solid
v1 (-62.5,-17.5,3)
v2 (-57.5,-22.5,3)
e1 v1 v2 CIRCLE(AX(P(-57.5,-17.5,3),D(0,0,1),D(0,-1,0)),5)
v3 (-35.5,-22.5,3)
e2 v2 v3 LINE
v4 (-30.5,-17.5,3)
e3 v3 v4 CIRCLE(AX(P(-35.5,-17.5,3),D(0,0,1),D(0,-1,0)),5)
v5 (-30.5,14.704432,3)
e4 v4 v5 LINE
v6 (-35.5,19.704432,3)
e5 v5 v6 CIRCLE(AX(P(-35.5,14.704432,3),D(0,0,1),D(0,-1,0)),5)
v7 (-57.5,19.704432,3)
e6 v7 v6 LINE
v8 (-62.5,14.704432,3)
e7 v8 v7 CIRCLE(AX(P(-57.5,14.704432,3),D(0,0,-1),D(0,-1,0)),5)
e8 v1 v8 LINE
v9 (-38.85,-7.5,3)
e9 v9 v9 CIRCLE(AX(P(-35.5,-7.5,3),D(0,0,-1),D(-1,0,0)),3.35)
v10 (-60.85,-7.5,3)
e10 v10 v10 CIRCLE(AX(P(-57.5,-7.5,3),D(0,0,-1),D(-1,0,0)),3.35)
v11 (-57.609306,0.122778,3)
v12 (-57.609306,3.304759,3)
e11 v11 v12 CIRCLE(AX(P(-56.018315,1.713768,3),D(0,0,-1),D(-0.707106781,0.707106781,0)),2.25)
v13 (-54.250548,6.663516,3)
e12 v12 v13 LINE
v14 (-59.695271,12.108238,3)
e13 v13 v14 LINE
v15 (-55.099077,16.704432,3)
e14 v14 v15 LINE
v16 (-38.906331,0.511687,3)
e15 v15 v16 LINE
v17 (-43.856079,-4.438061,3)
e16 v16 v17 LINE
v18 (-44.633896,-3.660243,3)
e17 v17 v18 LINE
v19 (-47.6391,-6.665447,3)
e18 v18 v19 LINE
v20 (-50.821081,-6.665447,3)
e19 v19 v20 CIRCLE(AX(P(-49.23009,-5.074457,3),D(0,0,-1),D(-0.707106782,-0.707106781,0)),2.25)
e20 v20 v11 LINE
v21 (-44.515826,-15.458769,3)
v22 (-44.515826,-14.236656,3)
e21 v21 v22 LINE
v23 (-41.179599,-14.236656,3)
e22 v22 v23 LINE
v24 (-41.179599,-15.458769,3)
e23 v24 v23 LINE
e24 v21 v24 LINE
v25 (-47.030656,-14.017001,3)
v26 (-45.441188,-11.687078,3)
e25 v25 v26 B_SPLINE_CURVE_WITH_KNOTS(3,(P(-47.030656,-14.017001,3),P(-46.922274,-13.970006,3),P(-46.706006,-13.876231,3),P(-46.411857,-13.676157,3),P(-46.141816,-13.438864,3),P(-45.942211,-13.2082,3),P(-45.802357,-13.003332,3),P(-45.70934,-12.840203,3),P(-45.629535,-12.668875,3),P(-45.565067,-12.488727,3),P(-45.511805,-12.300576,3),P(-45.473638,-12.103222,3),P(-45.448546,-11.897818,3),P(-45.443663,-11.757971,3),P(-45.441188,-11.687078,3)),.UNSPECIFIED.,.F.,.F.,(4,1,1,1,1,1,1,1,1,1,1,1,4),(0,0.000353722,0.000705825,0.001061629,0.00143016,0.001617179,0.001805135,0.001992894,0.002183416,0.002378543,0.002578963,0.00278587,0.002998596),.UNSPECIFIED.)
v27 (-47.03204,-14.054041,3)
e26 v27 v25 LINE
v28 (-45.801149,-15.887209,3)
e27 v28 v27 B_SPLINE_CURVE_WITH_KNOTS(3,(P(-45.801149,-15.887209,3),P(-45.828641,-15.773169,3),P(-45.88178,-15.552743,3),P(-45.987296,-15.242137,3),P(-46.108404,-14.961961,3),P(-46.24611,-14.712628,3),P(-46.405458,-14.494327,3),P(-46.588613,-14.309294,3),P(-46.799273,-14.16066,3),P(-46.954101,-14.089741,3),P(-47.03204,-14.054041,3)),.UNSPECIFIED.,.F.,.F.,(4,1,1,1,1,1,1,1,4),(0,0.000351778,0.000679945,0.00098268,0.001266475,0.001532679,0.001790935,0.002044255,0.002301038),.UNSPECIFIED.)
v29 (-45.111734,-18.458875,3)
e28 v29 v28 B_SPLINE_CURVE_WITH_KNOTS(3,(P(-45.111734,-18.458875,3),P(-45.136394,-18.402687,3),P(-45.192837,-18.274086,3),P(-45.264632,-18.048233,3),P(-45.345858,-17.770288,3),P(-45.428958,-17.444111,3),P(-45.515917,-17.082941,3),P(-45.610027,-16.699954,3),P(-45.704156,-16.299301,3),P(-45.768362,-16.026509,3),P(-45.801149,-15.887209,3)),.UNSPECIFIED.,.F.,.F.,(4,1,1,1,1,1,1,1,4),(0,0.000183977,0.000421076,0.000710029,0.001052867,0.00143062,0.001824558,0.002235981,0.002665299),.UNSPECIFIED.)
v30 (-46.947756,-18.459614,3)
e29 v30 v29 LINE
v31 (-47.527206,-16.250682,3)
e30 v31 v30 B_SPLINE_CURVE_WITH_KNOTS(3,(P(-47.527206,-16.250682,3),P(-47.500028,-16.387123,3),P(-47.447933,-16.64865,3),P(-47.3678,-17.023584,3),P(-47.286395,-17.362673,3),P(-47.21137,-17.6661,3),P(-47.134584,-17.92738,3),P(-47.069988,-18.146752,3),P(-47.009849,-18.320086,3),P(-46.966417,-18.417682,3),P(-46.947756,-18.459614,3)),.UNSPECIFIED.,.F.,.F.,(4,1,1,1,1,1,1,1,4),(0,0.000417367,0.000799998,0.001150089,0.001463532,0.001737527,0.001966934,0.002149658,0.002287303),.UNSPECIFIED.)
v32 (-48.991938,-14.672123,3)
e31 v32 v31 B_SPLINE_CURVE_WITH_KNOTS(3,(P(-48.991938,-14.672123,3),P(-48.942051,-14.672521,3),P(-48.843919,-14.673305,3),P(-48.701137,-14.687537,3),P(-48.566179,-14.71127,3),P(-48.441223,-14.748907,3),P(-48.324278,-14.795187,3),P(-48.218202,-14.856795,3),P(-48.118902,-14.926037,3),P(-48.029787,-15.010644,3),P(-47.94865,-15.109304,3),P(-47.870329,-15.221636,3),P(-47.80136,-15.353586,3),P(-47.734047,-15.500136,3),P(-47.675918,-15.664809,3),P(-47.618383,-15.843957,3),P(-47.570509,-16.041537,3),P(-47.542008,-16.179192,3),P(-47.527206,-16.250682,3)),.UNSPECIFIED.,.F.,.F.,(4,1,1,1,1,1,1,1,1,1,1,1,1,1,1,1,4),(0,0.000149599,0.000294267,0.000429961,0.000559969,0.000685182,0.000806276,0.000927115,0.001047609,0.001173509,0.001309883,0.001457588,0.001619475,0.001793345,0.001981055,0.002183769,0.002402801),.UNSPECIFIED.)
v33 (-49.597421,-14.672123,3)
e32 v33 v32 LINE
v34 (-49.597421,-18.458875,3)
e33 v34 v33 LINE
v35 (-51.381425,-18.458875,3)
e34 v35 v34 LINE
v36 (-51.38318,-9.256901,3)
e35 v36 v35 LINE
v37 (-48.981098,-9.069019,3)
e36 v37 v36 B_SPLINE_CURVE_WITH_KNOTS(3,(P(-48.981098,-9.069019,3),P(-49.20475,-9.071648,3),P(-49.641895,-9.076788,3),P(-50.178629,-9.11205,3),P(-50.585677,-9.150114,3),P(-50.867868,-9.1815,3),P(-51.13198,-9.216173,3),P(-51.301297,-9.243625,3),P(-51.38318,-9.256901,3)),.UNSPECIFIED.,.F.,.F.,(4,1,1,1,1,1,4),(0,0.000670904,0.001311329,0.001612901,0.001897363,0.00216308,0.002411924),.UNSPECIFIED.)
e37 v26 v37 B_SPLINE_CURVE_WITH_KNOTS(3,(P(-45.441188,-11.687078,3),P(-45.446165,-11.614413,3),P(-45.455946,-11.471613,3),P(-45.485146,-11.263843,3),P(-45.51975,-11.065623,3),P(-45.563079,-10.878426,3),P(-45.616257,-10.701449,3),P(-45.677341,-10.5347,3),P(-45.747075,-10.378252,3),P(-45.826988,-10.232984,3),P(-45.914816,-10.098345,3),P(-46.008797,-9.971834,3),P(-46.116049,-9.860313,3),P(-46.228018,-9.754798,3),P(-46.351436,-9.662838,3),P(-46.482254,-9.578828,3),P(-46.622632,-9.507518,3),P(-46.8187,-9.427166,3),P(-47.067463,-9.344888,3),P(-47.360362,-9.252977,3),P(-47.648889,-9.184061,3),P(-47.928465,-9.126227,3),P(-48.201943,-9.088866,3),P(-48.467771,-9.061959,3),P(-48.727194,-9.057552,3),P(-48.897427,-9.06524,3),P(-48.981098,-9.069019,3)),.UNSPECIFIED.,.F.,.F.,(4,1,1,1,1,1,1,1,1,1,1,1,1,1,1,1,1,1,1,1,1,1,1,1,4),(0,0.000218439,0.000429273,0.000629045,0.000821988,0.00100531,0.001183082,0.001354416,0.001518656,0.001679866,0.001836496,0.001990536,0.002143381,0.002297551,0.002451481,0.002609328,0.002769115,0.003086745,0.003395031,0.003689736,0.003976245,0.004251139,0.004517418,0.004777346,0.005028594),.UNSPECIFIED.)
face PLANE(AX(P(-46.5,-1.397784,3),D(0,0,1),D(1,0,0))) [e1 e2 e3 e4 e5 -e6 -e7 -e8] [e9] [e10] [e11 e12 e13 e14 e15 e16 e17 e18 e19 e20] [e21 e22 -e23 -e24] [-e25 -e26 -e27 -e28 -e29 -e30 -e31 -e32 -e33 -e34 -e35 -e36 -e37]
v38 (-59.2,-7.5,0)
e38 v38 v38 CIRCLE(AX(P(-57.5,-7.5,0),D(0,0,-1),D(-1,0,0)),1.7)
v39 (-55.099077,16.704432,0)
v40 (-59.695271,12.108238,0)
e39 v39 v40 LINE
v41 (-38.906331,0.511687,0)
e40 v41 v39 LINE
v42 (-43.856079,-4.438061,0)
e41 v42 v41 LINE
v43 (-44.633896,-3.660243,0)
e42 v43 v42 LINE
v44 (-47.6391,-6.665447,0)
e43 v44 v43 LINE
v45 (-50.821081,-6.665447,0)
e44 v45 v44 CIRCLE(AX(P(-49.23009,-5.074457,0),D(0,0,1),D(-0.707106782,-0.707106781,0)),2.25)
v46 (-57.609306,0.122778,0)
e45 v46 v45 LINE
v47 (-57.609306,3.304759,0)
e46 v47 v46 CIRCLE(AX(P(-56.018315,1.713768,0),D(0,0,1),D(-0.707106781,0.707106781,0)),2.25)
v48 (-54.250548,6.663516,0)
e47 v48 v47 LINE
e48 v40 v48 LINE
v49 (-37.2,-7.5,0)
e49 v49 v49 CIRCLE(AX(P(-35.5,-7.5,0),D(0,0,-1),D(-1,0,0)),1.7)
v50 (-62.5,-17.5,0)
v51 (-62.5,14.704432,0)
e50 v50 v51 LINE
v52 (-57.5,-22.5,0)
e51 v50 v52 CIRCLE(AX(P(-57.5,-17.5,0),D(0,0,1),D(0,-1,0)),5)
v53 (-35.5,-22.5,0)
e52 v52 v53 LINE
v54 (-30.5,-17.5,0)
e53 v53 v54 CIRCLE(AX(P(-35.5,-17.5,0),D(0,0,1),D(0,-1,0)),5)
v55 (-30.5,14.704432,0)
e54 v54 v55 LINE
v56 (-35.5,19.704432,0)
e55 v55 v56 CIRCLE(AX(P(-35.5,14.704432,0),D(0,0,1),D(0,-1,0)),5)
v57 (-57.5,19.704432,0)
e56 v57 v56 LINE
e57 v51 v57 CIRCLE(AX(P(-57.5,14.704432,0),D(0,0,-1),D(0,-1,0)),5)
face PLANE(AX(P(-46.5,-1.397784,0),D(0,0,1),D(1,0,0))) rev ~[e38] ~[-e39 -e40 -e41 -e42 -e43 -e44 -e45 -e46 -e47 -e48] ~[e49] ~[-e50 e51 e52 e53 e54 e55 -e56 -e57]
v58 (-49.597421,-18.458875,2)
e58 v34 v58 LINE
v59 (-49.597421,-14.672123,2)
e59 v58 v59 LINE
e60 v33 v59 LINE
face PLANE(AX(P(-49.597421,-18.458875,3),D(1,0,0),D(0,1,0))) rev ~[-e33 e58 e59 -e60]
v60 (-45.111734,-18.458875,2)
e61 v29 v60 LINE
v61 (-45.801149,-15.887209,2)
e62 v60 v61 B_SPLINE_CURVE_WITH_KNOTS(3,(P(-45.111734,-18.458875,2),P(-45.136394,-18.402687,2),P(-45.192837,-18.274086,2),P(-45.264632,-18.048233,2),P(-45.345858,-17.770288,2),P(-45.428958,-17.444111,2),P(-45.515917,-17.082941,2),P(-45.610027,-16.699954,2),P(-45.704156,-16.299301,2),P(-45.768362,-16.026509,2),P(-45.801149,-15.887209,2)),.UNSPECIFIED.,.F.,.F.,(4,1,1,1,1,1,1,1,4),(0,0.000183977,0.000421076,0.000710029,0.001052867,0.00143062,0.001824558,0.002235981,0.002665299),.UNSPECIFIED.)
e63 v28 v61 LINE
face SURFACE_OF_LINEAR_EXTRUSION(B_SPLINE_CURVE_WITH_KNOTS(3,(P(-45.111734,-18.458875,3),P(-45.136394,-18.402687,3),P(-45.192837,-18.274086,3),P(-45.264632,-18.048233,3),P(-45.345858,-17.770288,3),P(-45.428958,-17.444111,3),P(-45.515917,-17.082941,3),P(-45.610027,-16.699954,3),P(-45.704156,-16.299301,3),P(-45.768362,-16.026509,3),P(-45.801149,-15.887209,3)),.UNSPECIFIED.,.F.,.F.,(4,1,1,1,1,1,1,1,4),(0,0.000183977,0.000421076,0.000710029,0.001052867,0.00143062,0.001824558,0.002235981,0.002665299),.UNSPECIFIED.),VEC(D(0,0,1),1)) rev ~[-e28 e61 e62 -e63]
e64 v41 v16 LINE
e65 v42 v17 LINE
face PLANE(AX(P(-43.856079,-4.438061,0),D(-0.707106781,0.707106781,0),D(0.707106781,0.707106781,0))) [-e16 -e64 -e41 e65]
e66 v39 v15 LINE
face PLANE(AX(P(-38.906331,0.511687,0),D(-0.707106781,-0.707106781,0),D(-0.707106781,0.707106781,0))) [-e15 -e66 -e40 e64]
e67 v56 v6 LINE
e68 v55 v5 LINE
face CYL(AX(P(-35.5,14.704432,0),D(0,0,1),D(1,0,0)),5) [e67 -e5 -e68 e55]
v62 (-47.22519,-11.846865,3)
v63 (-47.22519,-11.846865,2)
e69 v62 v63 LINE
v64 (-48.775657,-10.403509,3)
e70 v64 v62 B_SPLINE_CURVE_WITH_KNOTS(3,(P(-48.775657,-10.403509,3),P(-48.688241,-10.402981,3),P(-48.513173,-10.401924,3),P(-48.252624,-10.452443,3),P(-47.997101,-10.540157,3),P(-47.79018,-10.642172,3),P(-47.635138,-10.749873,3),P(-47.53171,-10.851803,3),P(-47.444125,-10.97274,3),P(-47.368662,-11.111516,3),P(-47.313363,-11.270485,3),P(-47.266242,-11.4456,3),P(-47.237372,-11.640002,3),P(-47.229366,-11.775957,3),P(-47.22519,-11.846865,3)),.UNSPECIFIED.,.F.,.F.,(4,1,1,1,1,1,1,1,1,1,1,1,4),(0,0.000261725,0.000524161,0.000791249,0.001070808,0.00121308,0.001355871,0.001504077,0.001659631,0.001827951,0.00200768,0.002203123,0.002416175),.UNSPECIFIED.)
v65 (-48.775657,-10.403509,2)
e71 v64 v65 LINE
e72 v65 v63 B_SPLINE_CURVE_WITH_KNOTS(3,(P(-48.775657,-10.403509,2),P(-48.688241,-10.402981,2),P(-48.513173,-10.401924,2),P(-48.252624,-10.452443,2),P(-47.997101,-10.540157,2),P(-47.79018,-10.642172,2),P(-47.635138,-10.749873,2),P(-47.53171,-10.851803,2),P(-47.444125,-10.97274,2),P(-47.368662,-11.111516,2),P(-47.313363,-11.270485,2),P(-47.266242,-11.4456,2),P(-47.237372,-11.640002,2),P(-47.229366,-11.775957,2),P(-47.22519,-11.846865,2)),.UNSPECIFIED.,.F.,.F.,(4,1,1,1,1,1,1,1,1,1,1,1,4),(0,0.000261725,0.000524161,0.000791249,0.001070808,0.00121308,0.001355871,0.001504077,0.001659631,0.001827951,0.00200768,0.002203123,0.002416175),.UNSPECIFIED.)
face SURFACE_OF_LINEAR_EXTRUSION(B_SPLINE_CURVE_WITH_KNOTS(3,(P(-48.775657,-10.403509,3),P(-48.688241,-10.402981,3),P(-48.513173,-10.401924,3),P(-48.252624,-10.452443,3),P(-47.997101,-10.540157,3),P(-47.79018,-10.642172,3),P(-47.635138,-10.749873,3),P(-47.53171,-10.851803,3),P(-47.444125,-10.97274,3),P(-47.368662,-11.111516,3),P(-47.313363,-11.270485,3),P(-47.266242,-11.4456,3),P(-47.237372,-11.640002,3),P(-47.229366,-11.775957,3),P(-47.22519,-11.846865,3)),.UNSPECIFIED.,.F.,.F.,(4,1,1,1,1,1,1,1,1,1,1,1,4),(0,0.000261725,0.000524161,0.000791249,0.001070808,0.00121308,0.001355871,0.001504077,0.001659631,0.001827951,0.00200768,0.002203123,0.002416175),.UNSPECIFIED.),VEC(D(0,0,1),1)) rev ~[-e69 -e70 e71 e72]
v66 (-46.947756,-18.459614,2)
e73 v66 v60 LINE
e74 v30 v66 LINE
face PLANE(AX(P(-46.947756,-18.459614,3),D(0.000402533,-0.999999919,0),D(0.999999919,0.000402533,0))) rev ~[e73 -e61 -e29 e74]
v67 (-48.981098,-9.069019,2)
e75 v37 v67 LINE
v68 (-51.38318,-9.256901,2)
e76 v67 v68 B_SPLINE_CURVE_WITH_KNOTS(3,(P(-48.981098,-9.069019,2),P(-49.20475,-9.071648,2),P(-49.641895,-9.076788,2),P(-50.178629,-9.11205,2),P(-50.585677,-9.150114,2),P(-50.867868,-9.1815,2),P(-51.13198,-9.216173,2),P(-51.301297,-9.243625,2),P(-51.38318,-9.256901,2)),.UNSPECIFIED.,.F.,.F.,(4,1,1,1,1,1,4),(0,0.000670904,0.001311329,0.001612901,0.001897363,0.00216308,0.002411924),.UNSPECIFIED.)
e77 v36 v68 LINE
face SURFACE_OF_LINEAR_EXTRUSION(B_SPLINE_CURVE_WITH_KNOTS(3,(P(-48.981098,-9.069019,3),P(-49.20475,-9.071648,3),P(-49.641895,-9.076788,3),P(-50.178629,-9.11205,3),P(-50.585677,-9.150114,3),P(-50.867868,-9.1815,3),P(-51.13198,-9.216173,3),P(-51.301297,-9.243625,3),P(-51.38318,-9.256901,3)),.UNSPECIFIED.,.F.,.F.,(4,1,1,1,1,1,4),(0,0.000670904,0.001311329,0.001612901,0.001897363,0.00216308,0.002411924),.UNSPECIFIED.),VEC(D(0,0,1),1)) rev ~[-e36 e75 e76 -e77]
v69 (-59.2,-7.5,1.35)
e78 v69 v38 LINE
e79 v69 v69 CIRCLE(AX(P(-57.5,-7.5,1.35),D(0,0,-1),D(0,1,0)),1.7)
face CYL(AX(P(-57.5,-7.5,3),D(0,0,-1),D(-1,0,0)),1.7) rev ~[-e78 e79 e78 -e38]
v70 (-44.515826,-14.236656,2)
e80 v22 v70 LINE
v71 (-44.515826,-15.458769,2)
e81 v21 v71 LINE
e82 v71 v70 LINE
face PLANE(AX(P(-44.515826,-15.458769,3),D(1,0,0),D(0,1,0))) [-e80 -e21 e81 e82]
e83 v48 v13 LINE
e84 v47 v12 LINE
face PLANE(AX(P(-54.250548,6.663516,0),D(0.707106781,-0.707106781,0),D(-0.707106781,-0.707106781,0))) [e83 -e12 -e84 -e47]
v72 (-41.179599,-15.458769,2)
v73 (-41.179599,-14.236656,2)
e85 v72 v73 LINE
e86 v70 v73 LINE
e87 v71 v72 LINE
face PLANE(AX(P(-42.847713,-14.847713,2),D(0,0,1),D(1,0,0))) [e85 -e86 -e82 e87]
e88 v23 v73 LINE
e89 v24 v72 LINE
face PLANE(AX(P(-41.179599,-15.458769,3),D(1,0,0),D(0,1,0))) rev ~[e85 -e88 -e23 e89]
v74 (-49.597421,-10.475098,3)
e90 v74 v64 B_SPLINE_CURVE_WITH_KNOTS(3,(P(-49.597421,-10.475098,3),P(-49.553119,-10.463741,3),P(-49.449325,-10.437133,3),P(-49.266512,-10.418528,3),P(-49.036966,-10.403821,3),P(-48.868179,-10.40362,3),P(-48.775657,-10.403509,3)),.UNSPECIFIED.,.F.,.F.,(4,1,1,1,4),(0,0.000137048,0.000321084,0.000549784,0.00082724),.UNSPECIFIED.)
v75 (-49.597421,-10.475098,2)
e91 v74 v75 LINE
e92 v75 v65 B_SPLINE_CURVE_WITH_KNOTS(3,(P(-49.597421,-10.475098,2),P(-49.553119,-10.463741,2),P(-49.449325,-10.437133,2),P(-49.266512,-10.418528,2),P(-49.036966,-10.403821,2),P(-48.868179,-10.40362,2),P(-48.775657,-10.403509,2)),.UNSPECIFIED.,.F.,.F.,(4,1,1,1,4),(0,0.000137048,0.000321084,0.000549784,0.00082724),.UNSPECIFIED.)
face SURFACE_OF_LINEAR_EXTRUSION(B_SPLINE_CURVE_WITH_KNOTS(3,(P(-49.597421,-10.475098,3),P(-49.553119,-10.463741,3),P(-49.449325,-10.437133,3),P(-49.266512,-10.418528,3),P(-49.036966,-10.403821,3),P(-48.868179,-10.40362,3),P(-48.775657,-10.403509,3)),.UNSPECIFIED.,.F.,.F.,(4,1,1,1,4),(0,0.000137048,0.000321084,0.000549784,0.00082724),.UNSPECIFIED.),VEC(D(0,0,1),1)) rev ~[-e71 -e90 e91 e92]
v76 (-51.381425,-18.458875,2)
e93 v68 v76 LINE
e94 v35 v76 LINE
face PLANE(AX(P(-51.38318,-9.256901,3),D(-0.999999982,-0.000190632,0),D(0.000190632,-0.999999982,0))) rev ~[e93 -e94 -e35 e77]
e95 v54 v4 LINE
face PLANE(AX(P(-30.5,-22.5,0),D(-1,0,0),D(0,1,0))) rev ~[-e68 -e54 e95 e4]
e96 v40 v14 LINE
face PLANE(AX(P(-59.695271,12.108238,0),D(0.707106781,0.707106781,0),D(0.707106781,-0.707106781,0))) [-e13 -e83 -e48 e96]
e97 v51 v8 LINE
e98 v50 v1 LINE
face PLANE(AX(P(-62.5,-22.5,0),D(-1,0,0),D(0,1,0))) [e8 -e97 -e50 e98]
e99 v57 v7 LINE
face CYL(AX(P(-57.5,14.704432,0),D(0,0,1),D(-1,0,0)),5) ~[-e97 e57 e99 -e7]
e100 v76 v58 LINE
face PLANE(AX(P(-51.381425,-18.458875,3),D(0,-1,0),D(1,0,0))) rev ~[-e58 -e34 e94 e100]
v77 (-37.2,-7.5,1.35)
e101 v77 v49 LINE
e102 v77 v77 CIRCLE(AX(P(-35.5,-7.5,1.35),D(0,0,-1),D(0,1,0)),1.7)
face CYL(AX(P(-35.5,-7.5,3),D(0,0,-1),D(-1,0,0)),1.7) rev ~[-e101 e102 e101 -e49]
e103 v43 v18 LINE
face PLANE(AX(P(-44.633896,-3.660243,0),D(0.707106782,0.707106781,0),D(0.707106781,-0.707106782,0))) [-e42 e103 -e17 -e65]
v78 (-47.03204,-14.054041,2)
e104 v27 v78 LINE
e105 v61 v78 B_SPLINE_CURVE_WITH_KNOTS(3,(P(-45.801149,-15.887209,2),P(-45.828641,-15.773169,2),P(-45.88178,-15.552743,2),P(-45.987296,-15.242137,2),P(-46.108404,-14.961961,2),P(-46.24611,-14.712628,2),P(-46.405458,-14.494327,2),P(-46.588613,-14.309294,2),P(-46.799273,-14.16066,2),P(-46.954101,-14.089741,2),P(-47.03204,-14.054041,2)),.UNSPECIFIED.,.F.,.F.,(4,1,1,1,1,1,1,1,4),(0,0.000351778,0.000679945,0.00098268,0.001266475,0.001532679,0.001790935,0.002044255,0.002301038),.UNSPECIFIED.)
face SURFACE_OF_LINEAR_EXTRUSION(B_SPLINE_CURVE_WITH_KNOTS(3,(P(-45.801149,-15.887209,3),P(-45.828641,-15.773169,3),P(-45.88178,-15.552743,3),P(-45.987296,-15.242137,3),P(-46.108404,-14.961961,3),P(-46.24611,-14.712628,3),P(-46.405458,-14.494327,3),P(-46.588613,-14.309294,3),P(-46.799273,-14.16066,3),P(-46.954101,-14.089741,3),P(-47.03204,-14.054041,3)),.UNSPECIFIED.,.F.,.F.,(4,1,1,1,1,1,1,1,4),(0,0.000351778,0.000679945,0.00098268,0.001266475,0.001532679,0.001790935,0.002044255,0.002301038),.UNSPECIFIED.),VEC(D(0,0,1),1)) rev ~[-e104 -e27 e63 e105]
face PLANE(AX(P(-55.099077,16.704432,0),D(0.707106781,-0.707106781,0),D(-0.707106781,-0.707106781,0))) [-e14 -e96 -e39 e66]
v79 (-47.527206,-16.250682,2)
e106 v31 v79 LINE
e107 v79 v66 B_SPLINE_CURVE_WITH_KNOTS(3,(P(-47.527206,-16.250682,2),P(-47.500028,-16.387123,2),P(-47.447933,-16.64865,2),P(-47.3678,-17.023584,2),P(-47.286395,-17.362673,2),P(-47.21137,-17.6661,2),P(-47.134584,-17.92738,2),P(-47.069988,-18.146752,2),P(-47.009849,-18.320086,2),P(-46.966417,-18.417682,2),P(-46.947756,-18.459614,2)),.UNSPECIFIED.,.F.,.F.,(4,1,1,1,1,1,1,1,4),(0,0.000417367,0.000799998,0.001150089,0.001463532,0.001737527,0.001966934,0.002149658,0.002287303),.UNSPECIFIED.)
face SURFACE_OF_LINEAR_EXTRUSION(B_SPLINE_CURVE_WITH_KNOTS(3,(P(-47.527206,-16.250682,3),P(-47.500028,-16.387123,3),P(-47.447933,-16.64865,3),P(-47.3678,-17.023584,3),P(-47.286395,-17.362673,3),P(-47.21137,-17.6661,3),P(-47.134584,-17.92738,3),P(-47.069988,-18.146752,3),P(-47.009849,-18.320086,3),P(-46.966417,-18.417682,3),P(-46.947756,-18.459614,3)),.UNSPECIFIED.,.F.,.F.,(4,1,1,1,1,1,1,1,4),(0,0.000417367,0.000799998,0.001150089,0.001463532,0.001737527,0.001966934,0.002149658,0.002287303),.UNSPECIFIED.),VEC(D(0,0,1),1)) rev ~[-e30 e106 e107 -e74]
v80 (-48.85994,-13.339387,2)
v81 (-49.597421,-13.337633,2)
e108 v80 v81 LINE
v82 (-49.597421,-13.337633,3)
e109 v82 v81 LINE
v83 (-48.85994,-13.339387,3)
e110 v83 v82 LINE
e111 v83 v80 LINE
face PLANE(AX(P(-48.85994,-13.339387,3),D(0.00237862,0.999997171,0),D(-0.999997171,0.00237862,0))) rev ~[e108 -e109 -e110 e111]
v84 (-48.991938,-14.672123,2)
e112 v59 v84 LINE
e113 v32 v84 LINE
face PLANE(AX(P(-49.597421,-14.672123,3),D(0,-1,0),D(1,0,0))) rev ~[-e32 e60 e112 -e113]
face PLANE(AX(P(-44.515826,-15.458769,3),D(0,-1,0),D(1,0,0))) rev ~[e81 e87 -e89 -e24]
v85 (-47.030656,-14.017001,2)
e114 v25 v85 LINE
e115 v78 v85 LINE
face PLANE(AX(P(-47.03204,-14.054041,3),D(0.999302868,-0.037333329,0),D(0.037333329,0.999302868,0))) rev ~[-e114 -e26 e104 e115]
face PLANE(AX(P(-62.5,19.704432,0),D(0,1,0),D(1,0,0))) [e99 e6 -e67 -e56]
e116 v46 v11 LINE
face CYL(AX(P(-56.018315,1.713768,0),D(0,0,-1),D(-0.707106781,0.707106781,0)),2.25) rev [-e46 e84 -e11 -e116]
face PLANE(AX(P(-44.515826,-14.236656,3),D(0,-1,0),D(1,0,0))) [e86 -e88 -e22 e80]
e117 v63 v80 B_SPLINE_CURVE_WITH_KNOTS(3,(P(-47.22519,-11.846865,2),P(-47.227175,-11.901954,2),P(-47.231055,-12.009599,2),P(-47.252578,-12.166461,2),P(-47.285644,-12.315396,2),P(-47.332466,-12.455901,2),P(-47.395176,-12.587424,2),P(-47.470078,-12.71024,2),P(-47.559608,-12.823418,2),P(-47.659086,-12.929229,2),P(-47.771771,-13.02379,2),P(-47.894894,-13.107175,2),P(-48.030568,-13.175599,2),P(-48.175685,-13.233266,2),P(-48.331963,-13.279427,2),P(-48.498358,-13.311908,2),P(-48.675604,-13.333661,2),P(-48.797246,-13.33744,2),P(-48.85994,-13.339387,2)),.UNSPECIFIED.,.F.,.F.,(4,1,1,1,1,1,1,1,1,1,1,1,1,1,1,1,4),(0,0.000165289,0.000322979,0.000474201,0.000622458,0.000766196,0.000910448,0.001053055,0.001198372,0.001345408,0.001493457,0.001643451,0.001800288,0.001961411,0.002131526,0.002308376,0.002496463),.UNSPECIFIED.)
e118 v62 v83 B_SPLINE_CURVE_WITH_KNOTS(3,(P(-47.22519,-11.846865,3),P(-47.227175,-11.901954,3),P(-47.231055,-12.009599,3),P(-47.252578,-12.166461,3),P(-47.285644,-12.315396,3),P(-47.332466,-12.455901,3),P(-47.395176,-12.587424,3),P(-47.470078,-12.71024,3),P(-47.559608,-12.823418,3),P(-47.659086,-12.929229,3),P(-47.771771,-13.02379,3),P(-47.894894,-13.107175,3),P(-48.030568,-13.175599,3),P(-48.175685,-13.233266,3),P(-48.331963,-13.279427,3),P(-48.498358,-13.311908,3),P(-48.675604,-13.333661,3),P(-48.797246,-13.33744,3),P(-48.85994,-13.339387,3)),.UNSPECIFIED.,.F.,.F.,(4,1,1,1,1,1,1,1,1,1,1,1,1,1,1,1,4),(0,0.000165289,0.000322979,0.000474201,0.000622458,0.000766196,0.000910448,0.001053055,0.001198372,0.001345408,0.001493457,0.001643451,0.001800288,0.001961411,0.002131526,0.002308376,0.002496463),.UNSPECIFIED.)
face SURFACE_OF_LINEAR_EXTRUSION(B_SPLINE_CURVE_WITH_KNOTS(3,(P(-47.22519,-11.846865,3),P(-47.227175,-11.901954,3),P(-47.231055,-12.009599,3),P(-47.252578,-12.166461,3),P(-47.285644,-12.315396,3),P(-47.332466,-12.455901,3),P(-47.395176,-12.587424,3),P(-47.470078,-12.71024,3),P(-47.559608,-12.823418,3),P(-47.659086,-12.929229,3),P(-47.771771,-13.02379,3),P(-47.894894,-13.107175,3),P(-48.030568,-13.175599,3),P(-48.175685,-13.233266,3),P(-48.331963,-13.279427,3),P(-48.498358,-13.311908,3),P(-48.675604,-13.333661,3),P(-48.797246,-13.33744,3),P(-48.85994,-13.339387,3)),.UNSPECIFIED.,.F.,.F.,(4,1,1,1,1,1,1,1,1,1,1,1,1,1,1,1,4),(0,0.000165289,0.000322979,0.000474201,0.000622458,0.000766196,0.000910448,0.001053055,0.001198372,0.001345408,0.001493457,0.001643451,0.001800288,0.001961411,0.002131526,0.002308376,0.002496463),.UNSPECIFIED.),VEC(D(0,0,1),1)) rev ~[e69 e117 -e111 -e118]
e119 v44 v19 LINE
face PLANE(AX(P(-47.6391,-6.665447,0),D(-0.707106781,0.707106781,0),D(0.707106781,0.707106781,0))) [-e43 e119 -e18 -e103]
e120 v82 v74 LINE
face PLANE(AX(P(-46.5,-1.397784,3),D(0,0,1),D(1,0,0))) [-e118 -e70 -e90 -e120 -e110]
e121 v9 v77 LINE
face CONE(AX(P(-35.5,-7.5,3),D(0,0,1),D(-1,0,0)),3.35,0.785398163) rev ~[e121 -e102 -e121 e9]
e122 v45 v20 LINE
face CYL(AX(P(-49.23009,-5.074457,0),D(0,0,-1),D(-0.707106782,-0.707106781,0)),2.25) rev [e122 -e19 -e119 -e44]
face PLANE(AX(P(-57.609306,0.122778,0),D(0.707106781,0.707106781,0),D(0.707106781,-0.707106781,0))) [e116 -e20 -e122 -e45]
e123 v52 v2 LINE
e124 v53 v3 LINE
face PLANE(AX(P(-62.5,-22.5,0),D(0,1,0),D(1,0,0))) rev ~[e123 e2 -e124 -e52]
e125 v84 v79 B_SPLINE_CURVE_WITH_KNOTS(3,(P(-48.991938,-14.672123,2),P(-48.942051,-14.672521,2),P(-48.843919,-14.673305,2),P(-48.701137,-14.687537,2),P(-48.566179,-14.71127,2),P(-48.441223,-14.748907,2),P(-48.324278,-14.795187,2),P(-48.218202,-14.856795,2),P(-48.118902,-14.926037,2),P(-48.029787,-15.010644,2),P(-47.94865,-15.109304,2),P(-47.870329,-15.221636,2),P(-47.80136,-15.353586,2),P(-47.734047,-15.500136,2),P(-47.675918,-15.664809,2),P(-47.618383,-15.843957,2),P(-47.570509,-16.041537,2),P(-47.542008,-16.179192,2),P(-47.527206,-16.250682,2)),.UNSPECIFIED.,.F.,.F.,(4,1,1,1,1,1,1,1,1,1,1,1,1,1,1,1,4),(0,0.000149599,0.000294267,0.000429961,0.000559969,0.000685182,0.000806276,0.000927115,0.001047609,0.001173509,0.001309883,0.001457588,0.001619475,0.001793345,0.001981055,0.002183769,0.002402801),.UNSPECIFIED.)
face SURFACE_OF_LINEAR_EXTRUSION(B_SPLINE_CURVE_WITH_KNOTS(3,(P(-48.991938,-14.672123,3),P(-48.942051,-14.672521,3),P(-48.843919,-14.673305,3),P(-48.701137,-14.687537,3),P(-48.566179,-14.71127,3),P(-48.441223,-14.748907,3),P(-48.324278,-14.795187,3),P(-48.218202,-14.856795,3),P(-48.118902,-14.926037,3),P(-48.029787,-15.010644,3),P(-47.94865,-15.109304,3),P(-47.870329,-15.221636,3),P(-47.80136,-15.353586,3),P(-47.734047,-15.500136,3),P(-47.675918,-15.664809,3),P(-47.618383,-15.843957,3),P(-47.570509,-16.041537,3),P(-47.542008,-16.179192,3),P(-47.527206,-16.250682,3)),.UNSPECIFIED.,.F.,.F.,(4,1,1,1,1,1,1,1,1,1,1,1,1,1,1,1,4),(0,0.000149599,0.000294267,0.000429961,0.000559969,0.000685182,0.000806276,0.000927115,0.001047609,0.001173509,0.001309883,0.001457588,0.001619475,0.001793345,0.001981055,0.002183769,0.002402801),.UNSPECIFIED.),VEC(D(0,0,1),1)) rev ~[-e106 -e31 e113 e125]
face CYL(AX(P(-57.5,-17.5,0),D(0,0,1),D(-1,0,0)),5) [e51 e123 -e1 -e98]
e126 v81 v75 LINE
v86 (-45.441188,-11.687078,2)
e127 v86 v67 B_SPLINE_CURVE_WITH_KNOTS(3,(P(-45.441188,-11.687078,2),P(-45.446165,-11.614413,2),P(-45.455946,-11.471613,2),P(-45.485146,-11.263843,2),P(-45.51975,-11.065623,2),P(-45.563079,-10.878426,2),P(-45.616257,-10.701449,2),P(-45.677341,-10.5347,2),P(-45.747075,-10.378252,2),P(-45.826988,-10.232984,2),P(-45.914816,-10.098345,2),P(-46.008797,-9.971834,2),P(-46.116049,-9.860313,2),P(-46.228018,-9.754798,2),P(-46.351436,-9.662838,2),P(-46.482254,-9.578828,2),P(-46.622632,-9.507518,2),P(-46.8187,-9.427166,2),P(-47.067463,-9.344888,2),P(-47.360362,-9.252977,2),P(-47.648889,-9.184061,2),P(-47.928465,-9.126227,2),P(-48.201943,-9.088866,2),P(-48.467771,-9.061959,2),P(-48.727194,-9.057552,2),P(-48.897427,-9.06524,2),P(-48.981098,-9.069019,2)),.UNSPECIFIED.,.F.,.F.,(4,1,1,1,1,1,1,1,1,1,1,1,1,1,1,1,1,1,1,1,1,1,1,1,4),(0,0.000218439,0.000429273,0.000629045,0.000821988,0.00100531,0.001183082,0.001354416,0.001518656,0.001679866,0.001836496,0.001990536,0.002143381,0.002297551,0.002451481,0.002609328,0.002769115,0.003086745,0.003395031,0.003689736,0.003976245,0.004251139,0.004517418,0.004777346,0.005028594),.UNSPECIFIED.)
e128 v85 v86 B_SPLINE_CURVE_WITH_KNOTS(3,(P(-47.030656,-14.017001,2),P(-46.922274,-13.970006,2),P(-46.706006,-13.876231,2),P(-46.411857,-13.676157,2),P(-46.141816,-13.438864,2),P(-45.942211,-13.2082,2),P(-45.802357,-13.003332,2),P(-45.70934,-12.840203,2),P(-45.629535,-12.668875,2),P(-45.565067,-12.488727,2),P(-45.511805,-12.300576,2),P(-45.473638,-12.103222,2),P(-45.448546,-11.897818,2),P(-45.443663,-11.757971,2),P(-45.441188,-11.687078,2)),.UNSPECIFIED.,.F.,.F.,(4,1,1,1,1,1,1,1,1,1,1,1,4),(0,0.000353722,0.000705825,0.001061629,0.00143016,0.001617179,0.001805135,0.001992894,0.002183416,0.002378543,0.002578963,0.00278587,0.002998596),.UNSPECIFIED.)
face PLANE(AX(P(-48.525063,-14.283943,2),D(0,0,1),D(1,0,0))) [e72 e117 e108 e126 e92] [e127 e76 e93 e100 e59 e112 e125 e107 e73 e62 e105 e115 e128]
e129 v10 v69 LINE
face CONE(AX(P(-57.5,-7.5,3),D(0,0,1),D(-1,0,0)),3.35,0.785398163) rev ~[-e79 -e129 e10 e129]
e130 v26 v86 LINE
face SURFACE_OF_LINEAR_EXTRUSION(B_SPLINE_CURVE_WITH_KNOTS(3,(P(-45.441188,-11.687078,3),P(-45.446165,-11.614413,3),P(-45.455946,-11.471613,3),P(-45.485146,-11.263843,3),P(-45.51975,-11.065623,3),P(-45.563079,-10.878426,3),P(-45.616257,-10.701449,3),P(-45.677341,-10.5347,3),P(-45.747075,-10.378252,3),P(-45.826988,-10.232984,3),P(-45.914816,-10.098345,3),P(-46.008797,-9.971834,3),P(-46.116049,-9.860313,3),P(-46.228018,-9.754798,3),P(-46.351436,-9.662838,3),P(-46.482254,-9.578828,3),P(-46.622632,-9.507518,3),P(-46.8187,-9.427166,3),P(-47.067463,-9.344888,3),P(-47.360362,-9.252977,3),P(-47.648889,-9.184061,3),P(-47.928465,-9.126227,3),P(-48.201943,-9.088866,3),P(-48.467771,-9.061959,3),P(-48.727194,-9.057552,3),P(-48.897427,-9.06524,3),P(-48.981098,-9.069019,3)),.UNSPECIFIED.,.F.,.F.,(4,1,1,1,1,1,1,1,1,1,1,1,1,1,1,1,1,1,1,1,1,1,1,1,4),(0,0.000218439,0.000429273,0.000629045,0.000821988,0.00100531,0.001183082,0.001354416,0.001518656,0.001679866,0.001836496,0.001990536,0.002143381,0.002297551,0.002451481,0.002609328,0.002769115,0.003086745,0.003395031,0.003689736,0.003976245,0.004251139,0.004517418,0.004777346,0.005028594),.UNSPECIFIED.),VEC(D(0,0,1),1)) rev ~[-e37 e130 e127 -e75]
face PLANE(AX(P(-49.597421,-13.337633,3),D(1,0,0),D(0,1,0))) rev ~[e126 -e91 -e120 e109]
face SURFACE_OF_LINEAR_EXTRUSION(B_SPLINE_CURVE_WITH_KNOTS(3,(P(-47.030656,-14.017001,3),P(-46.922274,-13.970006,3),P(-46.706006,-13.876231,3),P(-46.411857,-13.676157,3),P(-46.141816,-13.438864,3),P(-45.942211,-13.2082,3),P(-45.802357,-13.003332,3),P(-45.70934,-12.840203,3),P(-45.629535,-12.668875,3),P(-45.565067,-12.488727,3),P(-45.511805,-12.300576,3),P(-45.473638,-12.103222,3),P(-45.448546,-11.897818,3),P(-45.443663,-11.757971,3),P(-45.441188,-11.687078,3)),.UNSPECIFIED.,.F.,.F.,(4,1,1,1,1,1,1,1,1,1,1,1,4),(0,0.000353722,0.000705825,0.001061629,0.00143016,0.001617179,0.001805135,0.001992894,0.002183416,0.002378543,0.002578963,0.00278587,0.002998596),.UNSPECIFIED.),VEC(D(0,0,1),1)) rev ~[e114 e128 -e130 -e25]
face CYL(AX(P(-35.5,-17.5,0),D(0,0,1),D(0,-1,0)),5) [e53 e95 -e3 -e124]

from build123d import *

# Parameters (mm, degrees)
SKETCH2_W                                           = 32
SKETCH2_H                                           = 42.204432033
BOSS_EXTRUDE2_DEPTH                                 = 3
FILLET1_R                                           = 5
SKETCH3_W                                           = 3.336226562
SKETCH3_H                                           = 1.222113554
CUT_EXTRUDE1_DEPTH                                  = 1
CSK_FOR_M3_COUNTERSUNK_FLAT_HEAD_SCREW1_D           = 3.4
CSK_FOR_M3_COUNTERSUNK_FLAT_HEAD_SCREW1_DEPTH       = 20
CSK_FOR_M3_COUNTERSUNK_FLAT_HEAD_SCREW1_CSINK_D     = 6.7
CSK_FOR_M3_COUNTERSUNK_FLAT_HEAD_SCREW1_CSINK_ANGLE = 90
CSK_FOR_M3_COUNTERSUNK_FLAT_HEAD_SCREW1_TIP         = 1.021463052
CUT_EXTRUDE3_DEPTH                                  = 10


with BuildPart() as part:
    # Sketch2 → Boss-Extrude2 (new body)
    with BuildSketch(Plane.XY):
        with Locations((-46.5, -1.397783984)):
            Rectangle(SKETCH2_W, SKETCH2_H)
    extrude(amount=BOSS_EXTRUDE2_DEPTH)

    # Fillet1
    fillet1_edges = [part.edges().sort_by_distance(p)[0] for p in [
        (-62.5, 19.704432033, 1.5),
        (-30.5, 19.704432033, 1.5),
        (-30.5, -22.5, 1.5),
        (-62.5, -22.5, 1.5),
    ]]
    fillet(fillet1_edges, radius=FILLET1_R)

    # Sketch3 → Cut-Extrude1 (cut)
    with BuildSketch(Plane.XY.offset(3)):
        with BuildLine():
            Line((-51.381425439, -18.458875061), (-49.597421385, -18.458875061))
            Line((-49.597421385, -18.458875061), (-49.597421385, -14.672122679))
            Line((-49.597421385, -14.672122679), (-48.991938415, -14.672122679))
            add(Edge.make_bspline(
                [(-48.991938415, -14.672122679), (-48.942050564, -14.6725211), (-48.843919084, -14.673304811), (-48.701136712, -14.687536776), (-48.566178681, -14.711269605), (-48.441222715, -14.74890661), (-48.32427753, -14.795186794), (-48.218202264, -14.856795477), (-48.11890245, -14.926037335), (-48.029787183, -15.010644116), (-47.94865002, -15.109304476), (-47.870329282, -15.22163632), (-47.801359571, -15.353586411), (-47.734046558, -15.500135947), (-47.675917518, -15.664809001), (-47.618382932, -15.843956856), (-47.570508607, -16.041536599), (-47.542007813, -16.179191645), (-47.527206071, -16.25068209)],
                knots=[0, 0, 0, 0, 0.000149599, 0.000294267, 0.000429961, 0.000559969, 0.000685182, 0.000806276, 0.000927115, 0.001047609, 0.001173509, 0.001309883, 0.001457588, 0.001619475, 0.001793345, 0.001981055, 0.002183769, 0.002402801, 0.002402801, 0.002402801, 0.002402801], degree=3))
            add(Edge.make_bspline(
                [(-47.527206071, -16.25068209), (-47.500027556, -16.387123246), (-47.447932519, -16.648649934), (-47.367799698, -17.023584407), (-47.286395279, -17.362673147), (-47.211369572, -17.666100231), (-47.134583702, -17.927379781), (-47.069987521, -18.146751884), (-47.009849282, -18.32008565), (-46.966417008, -18.417682148), (-46.947756493, -18.45961412)],
                knots=[0, 0, 0, 0, 0.000417367, 0.000799998, 0.001150089, 0.001463532, 0.001737527, 0.001966934, 0.002149658, 0.002287303, 0.002287303, 0.002287303, 0.002287303], degree=3))
            Line((-46.947756493, -18.45961412), (-45.111733669, -18.458875061))
            add(Edge.make_bspline(
                [(-45.111733669, -18.458875061), (-45.136394395, -18.402686862), (-45.192836553, -18.274086301), (-45.264632108, -18.048232695), (-45.345858267, -17.770288113), (-45.428958388, -17.444111213), (-45.51591734, -17.08294144), (-45.610026609, -16.699954349), (-45.704155867, -16.299301278), (-45.768362179, -16.026508782), (-45.80114869, -15.887209172)],
                knots=[0, 0, 0, 0, 0.000183977, 0.000421076, 0.000710029, 0.001052867, 0.00143062, 0.001824558, 0.002235981, 0.002665299, 0.002665299, 0.002665299, 0.002665299], degree=3))
            add(Edge.make_bspline(
                [(-45.80114869, -15.887209172), (-45.828641018, -15.773168942), (-45.881780404, -15.5527428), (-45.987295673, -15.242137194), (-46.108403792, -14.961961493), (-46.246109756, -14.712628496), (-46.405457942, -14.494327391), (-46.588613385, -14.309294243), (-46.799272936, -14.160659908), (-46.954100619, -14.089741414), (-47.032040068, -14.054041414)],
                knots=[0, 0, 0, 0, 0.000351778, 0.000679945, 0.00098268, 0.001266475, 0.001532679, 0.001790935, 0.002044255, 0.002301038, 0.002301038, 0.002301038, 0.002301038], degree=3))
            Line((-47.032040068, -14.054041414), (-47.030656262, -14.017001018))
            add(Edge.make_bspline(
                [(-47.030656262, -14.017001018), (-46.922273974, -13.970005767), (-46.706005829, -13.876230519), (-46.411856808, -13.676157256), (-46.14181559, -13.438863882), (-45.942211161, -13.208200023), (-45.802357006, -13.003332314), (-45.709339658, -12.840203194), (-45.629535439, -12.668874791), (-45.565066724, -12.488727388), (-45.51180506, -12.300576236), (-45.473637881, -12.103222096), (-45.448546386, -11.89781805), (-45.443663093, -11.757970901), (-45.441187588, -11.68707768)],
                knots=[0, 0, 0, 0, 0.000353722, 0.000705825, 0.001061629, 0.00143016, 0.001617179, 0.001805135, 0.001992894, 0.002183416, 0.002378543, 0.002578963, 0.00278587, 0.002998596, 0.002998596, 0.002998596, 0.002998596], degree=3))
            add(Edge.make_bspline(
                [(-45.441187588, -11.68707768), (-45.446164978, -11.614412673), (-45.455946444, -11.471612893), (-45.485146081, -11.263842973), (-45.519750271, -11.065622921), (-45.563079094, -10.87842638), (-45.616257063, -10.701449), (-45.677340843, -10.534699828), (-45.747075442, -10.378252437), (-45.826987856, -10.232984263), (-45.914816466, -10.098344998), (-46.008796832, -9.971834439), (-46.116049062, -9.860313263), (-46.228017531, -9.754798011), (-46.351436153, -9.662838486), (-46.482253648, -9.578828028), (-46.62263241, -9.507518301), (-46.818699815, -9.427166253), (-47.06746288, -9.344888092), (-47.360362202, -9.252977107), (-47.648888658, -9.184061361), (-47.928465046, -9.126227189), (-48.201942503, -9.088865813), (-48.467771392, -9.061958609), (-48.727193986, -9.057551627), (-48.897426641, -9.065240143), (-48.981097742, -9.069019128)],
                knots=[0, 0, 0, 0, 0.000218439, 0.000429273, 0.000629045, 0.000821988, 0.00100531, 0.001183082, 0.001354416, 0.001518656, 0.001679866, 0.001836496, 0.001990536, 0.002143381, 0.002297551, 0.002451481, 0.002609328, 0.002769115, 0.003086745, 0.003395031, 0.003689736, 0.003976245, 0.004251139, 0.004517418, 0.004777346, 0.005028594, 0.005028594, 0.005028594, 0.005028594], degree=3))
            add(Edge.make_bspline(
                [(-48.981097742, -9.069019128), (-49.204750164, -9.07164849), (-49.641894612, -9.076787763), (-50.178628932, -9.112050461), (-50.585677154, -9.150113546), (-50.867868242, -9.181499683), (-51.131979771, -9.216172913), (-51.301297073, -9.243625216), (-51.383179632, -9.256901264)],
                knots=[0, 0, 0, 0, 0.000670904, 0.001311329, 0.001612901, 0.001897363, 0.00216308, 0.002411924, 0.002411924, 0.002411924, 0.002411924], degree=3))
            Line((-51.383179632, -9.256901264), (-51.381425439, -18.458875061))
        make_face()
        with BuildLine():
            add(Edge.make_bspline(
                [(-49.597421385, -10.475098321), (-49.553118884, -10.463741178), (-49.449324767, -10.437133094), (-49.26651153, -10.418528414), (-49.036966225, -10.403821129), (-48.868179272, -10.40361956), (-48.775656528, -10.403509067)],
                knots=[0, 0, 0, 0, 0.000137048, 0.000321084, 0.000549784, 0.00082724, 0.00082724, 0.00082724, 0.00082724], degree=3))
            add(Edge.make_bspline(
                [(-48.775656528, -10.403509067), (-48.688241346, -10.402981113), (-48.513173263, -10.40192377), (-48.25262374, -10.452443011), (-47.99710085, -10.54015698), (-47.790180436, -10.642172207), (-47.635138174, -10.749873331), (-47.531709547, -10.851803167), (-47.444125211, -10.972739958), (-47.368662464, -11.111515899), (-47.313363495, -11.270485036), (-47.266241854, -11.445599811), (-47.237372321, -11.640002112), (-47.229365771, -11.775957367), (-47.225189927, -11.846865291)],
                knots=[0, 0, 0, 0, 0.000261725, 0.000524161, 0.000791249, 0.001070808, 0.00121308, 0.001355871, 0.001504077, 0.001659631, 0.001827951, 0.00200768, 0.002203123, 0.002416175, 0.002416175, 0.002416175, 0.002416175], degree=3))
            add(Edge.make_bspline(
                [(-47.225189927, -11.846865291), (-47.227175329, -11.901954186), (-47.231054857, -12.009599393), (-47.252578328, -12.166460507), (-47.285644456, -12.315396112), (-47.332465946, -12.455901219), (-47.395176387, -12.587424294), (-47.470077536, -12.710240218), (-47.559607688, -12.823418468), (-47.659086339, -12.929228854), (-47.771771397, -13.023790308), (-47.894893734, -13.107175482), (-48.0305682, -13.175598565), (-48.175685207, -13.233265514), (-48.331962757, -13.279426838), (-48.49835821, -13.311908188), (-48.675604243, -13.333661231), (-48.79724634, -13.337439587), (-48.859940103, -13.339386933)],
                knots=[0, 0, 0, 0, 0.000165289, 0.000322979, 0.000474201, 0.000622458, 0.000766196, 0.000910448, 0.001053055, 0.001198372, 0.001345408, 0.001493457, 0.001643451, 0.001800288, 0.001961411, 0.002131526, 0.002308376, 0.002496463, 0.002496463, 0.002496463, 0.002496463], degree=3))
            Line((-48.859940103, -13.339386933), (-49.597421385, -13.33763274))
            Line((-49.597421385, -13.33763274), (-49.597421385, -10.475098321))
        make_face(mode=Mode.SUBTRACT)
        with Locations((-42.847712603, -14.847712603)):
            Rectangle(SKETCH3_W, SKETCH3_H)
    extrude(amount=-CUT_EXTRUDE1_DEPTH, mode=Mode.SUBTRACT)

    # CSK for M3 Countersunk Flat Head Screw1
    with Locations(Plane(origin=(-57.5, -7.5, 3), x_dir=(1, 0, 0), z_dir=(0, 0, 1))):
        with Locations((0, 0), (22, 0)):
            CounterSinkHole(CSK_FOR_M3_COUNTERSUNK_FLAT_HEAD_SCREW1_D / 2, CSK_FOR_M3_COUNTERSUNK_FLAT_HEAD_SCREW1_CSINK_D / 2, depth=CSK_FOR_M3_COUNTERSUNK_FLAT_HEAD_SCREW1_DEPTH, counter_sink_angle=CSK_FOR_M3_COUNTERSUNK_FLAT_HEAD_SCREW1_CSINK_ANGLE)
            with Locations((0, 0, -(CSK_FOR_M3_COUNTERSUNK_FLAT_HEAD_SCREW1_DEPTH + CSK_FOR_M3_COUNTERSUNK_FLAT_HEAD_SCREW1_TIP / 2))):  # 118° drill point
                Cone(0, CSK_FOR_M3_COUNTERSUNK_FLAT_HEAD_SCREW1_D / 2, CSK_FOR_M3_COUNTERSUNK_FLAT_HEAD_SCREW1_TIP, mode=Mode.SUBTRACT)

    # Sketch13 → Cut-Extrude3 (cut)
    with BuildSketch(Plane(origin=(0, 0, 0), x_dir=(-1, 0, 0), z_dir=(0, 0, -1))):
        with BuildLine():
            Line((55.099076528, 16.704432033), (59.695270606, 12.108237955))
            Line((59.695270606, 12.108237955), (54.250548391, 6.66351574))
            Line((54.250548391, 6.66351574), (57.609305602, 3.304758529))
            ThreePointArc((57.609305602, 3.304758529), (58.268315344, 1.713768272), (57.609305602, 0.122778014))
            Line((57.609305602, 0.122778014), (50.821080502, -6.665447085))
            ThreePointArc((50.821080502, -6.665447085), (49.230090245, -7.324456828), (47.639099987, -6.665447085))
            Line((47.639099987, -6.665447085), (44.633896167, -3.660243265))
            Line((44.633896167, -3.660243265), (43.856078708, -4.438060725))
            Line((43.856078708, -4.438060725), (43.325748622, -3.907730639))
            Line((43.325748622, -3.907730639), (38.906331239, 0.511686744))
            Line((38.906331239, 0.511686744), (40.709453531, 2.314809036))
            Line((40.709453531, 2.314809036), (47.921942699, 9.527298204))
            Line((47.921942699, 9.527298204), (55.099076528, 16.704432033))
        make_face()
    extrude(amount=-CUT_EXTRUDE3_DEPTH, mode=Mode.SUBTRACT)


solid = part.part
